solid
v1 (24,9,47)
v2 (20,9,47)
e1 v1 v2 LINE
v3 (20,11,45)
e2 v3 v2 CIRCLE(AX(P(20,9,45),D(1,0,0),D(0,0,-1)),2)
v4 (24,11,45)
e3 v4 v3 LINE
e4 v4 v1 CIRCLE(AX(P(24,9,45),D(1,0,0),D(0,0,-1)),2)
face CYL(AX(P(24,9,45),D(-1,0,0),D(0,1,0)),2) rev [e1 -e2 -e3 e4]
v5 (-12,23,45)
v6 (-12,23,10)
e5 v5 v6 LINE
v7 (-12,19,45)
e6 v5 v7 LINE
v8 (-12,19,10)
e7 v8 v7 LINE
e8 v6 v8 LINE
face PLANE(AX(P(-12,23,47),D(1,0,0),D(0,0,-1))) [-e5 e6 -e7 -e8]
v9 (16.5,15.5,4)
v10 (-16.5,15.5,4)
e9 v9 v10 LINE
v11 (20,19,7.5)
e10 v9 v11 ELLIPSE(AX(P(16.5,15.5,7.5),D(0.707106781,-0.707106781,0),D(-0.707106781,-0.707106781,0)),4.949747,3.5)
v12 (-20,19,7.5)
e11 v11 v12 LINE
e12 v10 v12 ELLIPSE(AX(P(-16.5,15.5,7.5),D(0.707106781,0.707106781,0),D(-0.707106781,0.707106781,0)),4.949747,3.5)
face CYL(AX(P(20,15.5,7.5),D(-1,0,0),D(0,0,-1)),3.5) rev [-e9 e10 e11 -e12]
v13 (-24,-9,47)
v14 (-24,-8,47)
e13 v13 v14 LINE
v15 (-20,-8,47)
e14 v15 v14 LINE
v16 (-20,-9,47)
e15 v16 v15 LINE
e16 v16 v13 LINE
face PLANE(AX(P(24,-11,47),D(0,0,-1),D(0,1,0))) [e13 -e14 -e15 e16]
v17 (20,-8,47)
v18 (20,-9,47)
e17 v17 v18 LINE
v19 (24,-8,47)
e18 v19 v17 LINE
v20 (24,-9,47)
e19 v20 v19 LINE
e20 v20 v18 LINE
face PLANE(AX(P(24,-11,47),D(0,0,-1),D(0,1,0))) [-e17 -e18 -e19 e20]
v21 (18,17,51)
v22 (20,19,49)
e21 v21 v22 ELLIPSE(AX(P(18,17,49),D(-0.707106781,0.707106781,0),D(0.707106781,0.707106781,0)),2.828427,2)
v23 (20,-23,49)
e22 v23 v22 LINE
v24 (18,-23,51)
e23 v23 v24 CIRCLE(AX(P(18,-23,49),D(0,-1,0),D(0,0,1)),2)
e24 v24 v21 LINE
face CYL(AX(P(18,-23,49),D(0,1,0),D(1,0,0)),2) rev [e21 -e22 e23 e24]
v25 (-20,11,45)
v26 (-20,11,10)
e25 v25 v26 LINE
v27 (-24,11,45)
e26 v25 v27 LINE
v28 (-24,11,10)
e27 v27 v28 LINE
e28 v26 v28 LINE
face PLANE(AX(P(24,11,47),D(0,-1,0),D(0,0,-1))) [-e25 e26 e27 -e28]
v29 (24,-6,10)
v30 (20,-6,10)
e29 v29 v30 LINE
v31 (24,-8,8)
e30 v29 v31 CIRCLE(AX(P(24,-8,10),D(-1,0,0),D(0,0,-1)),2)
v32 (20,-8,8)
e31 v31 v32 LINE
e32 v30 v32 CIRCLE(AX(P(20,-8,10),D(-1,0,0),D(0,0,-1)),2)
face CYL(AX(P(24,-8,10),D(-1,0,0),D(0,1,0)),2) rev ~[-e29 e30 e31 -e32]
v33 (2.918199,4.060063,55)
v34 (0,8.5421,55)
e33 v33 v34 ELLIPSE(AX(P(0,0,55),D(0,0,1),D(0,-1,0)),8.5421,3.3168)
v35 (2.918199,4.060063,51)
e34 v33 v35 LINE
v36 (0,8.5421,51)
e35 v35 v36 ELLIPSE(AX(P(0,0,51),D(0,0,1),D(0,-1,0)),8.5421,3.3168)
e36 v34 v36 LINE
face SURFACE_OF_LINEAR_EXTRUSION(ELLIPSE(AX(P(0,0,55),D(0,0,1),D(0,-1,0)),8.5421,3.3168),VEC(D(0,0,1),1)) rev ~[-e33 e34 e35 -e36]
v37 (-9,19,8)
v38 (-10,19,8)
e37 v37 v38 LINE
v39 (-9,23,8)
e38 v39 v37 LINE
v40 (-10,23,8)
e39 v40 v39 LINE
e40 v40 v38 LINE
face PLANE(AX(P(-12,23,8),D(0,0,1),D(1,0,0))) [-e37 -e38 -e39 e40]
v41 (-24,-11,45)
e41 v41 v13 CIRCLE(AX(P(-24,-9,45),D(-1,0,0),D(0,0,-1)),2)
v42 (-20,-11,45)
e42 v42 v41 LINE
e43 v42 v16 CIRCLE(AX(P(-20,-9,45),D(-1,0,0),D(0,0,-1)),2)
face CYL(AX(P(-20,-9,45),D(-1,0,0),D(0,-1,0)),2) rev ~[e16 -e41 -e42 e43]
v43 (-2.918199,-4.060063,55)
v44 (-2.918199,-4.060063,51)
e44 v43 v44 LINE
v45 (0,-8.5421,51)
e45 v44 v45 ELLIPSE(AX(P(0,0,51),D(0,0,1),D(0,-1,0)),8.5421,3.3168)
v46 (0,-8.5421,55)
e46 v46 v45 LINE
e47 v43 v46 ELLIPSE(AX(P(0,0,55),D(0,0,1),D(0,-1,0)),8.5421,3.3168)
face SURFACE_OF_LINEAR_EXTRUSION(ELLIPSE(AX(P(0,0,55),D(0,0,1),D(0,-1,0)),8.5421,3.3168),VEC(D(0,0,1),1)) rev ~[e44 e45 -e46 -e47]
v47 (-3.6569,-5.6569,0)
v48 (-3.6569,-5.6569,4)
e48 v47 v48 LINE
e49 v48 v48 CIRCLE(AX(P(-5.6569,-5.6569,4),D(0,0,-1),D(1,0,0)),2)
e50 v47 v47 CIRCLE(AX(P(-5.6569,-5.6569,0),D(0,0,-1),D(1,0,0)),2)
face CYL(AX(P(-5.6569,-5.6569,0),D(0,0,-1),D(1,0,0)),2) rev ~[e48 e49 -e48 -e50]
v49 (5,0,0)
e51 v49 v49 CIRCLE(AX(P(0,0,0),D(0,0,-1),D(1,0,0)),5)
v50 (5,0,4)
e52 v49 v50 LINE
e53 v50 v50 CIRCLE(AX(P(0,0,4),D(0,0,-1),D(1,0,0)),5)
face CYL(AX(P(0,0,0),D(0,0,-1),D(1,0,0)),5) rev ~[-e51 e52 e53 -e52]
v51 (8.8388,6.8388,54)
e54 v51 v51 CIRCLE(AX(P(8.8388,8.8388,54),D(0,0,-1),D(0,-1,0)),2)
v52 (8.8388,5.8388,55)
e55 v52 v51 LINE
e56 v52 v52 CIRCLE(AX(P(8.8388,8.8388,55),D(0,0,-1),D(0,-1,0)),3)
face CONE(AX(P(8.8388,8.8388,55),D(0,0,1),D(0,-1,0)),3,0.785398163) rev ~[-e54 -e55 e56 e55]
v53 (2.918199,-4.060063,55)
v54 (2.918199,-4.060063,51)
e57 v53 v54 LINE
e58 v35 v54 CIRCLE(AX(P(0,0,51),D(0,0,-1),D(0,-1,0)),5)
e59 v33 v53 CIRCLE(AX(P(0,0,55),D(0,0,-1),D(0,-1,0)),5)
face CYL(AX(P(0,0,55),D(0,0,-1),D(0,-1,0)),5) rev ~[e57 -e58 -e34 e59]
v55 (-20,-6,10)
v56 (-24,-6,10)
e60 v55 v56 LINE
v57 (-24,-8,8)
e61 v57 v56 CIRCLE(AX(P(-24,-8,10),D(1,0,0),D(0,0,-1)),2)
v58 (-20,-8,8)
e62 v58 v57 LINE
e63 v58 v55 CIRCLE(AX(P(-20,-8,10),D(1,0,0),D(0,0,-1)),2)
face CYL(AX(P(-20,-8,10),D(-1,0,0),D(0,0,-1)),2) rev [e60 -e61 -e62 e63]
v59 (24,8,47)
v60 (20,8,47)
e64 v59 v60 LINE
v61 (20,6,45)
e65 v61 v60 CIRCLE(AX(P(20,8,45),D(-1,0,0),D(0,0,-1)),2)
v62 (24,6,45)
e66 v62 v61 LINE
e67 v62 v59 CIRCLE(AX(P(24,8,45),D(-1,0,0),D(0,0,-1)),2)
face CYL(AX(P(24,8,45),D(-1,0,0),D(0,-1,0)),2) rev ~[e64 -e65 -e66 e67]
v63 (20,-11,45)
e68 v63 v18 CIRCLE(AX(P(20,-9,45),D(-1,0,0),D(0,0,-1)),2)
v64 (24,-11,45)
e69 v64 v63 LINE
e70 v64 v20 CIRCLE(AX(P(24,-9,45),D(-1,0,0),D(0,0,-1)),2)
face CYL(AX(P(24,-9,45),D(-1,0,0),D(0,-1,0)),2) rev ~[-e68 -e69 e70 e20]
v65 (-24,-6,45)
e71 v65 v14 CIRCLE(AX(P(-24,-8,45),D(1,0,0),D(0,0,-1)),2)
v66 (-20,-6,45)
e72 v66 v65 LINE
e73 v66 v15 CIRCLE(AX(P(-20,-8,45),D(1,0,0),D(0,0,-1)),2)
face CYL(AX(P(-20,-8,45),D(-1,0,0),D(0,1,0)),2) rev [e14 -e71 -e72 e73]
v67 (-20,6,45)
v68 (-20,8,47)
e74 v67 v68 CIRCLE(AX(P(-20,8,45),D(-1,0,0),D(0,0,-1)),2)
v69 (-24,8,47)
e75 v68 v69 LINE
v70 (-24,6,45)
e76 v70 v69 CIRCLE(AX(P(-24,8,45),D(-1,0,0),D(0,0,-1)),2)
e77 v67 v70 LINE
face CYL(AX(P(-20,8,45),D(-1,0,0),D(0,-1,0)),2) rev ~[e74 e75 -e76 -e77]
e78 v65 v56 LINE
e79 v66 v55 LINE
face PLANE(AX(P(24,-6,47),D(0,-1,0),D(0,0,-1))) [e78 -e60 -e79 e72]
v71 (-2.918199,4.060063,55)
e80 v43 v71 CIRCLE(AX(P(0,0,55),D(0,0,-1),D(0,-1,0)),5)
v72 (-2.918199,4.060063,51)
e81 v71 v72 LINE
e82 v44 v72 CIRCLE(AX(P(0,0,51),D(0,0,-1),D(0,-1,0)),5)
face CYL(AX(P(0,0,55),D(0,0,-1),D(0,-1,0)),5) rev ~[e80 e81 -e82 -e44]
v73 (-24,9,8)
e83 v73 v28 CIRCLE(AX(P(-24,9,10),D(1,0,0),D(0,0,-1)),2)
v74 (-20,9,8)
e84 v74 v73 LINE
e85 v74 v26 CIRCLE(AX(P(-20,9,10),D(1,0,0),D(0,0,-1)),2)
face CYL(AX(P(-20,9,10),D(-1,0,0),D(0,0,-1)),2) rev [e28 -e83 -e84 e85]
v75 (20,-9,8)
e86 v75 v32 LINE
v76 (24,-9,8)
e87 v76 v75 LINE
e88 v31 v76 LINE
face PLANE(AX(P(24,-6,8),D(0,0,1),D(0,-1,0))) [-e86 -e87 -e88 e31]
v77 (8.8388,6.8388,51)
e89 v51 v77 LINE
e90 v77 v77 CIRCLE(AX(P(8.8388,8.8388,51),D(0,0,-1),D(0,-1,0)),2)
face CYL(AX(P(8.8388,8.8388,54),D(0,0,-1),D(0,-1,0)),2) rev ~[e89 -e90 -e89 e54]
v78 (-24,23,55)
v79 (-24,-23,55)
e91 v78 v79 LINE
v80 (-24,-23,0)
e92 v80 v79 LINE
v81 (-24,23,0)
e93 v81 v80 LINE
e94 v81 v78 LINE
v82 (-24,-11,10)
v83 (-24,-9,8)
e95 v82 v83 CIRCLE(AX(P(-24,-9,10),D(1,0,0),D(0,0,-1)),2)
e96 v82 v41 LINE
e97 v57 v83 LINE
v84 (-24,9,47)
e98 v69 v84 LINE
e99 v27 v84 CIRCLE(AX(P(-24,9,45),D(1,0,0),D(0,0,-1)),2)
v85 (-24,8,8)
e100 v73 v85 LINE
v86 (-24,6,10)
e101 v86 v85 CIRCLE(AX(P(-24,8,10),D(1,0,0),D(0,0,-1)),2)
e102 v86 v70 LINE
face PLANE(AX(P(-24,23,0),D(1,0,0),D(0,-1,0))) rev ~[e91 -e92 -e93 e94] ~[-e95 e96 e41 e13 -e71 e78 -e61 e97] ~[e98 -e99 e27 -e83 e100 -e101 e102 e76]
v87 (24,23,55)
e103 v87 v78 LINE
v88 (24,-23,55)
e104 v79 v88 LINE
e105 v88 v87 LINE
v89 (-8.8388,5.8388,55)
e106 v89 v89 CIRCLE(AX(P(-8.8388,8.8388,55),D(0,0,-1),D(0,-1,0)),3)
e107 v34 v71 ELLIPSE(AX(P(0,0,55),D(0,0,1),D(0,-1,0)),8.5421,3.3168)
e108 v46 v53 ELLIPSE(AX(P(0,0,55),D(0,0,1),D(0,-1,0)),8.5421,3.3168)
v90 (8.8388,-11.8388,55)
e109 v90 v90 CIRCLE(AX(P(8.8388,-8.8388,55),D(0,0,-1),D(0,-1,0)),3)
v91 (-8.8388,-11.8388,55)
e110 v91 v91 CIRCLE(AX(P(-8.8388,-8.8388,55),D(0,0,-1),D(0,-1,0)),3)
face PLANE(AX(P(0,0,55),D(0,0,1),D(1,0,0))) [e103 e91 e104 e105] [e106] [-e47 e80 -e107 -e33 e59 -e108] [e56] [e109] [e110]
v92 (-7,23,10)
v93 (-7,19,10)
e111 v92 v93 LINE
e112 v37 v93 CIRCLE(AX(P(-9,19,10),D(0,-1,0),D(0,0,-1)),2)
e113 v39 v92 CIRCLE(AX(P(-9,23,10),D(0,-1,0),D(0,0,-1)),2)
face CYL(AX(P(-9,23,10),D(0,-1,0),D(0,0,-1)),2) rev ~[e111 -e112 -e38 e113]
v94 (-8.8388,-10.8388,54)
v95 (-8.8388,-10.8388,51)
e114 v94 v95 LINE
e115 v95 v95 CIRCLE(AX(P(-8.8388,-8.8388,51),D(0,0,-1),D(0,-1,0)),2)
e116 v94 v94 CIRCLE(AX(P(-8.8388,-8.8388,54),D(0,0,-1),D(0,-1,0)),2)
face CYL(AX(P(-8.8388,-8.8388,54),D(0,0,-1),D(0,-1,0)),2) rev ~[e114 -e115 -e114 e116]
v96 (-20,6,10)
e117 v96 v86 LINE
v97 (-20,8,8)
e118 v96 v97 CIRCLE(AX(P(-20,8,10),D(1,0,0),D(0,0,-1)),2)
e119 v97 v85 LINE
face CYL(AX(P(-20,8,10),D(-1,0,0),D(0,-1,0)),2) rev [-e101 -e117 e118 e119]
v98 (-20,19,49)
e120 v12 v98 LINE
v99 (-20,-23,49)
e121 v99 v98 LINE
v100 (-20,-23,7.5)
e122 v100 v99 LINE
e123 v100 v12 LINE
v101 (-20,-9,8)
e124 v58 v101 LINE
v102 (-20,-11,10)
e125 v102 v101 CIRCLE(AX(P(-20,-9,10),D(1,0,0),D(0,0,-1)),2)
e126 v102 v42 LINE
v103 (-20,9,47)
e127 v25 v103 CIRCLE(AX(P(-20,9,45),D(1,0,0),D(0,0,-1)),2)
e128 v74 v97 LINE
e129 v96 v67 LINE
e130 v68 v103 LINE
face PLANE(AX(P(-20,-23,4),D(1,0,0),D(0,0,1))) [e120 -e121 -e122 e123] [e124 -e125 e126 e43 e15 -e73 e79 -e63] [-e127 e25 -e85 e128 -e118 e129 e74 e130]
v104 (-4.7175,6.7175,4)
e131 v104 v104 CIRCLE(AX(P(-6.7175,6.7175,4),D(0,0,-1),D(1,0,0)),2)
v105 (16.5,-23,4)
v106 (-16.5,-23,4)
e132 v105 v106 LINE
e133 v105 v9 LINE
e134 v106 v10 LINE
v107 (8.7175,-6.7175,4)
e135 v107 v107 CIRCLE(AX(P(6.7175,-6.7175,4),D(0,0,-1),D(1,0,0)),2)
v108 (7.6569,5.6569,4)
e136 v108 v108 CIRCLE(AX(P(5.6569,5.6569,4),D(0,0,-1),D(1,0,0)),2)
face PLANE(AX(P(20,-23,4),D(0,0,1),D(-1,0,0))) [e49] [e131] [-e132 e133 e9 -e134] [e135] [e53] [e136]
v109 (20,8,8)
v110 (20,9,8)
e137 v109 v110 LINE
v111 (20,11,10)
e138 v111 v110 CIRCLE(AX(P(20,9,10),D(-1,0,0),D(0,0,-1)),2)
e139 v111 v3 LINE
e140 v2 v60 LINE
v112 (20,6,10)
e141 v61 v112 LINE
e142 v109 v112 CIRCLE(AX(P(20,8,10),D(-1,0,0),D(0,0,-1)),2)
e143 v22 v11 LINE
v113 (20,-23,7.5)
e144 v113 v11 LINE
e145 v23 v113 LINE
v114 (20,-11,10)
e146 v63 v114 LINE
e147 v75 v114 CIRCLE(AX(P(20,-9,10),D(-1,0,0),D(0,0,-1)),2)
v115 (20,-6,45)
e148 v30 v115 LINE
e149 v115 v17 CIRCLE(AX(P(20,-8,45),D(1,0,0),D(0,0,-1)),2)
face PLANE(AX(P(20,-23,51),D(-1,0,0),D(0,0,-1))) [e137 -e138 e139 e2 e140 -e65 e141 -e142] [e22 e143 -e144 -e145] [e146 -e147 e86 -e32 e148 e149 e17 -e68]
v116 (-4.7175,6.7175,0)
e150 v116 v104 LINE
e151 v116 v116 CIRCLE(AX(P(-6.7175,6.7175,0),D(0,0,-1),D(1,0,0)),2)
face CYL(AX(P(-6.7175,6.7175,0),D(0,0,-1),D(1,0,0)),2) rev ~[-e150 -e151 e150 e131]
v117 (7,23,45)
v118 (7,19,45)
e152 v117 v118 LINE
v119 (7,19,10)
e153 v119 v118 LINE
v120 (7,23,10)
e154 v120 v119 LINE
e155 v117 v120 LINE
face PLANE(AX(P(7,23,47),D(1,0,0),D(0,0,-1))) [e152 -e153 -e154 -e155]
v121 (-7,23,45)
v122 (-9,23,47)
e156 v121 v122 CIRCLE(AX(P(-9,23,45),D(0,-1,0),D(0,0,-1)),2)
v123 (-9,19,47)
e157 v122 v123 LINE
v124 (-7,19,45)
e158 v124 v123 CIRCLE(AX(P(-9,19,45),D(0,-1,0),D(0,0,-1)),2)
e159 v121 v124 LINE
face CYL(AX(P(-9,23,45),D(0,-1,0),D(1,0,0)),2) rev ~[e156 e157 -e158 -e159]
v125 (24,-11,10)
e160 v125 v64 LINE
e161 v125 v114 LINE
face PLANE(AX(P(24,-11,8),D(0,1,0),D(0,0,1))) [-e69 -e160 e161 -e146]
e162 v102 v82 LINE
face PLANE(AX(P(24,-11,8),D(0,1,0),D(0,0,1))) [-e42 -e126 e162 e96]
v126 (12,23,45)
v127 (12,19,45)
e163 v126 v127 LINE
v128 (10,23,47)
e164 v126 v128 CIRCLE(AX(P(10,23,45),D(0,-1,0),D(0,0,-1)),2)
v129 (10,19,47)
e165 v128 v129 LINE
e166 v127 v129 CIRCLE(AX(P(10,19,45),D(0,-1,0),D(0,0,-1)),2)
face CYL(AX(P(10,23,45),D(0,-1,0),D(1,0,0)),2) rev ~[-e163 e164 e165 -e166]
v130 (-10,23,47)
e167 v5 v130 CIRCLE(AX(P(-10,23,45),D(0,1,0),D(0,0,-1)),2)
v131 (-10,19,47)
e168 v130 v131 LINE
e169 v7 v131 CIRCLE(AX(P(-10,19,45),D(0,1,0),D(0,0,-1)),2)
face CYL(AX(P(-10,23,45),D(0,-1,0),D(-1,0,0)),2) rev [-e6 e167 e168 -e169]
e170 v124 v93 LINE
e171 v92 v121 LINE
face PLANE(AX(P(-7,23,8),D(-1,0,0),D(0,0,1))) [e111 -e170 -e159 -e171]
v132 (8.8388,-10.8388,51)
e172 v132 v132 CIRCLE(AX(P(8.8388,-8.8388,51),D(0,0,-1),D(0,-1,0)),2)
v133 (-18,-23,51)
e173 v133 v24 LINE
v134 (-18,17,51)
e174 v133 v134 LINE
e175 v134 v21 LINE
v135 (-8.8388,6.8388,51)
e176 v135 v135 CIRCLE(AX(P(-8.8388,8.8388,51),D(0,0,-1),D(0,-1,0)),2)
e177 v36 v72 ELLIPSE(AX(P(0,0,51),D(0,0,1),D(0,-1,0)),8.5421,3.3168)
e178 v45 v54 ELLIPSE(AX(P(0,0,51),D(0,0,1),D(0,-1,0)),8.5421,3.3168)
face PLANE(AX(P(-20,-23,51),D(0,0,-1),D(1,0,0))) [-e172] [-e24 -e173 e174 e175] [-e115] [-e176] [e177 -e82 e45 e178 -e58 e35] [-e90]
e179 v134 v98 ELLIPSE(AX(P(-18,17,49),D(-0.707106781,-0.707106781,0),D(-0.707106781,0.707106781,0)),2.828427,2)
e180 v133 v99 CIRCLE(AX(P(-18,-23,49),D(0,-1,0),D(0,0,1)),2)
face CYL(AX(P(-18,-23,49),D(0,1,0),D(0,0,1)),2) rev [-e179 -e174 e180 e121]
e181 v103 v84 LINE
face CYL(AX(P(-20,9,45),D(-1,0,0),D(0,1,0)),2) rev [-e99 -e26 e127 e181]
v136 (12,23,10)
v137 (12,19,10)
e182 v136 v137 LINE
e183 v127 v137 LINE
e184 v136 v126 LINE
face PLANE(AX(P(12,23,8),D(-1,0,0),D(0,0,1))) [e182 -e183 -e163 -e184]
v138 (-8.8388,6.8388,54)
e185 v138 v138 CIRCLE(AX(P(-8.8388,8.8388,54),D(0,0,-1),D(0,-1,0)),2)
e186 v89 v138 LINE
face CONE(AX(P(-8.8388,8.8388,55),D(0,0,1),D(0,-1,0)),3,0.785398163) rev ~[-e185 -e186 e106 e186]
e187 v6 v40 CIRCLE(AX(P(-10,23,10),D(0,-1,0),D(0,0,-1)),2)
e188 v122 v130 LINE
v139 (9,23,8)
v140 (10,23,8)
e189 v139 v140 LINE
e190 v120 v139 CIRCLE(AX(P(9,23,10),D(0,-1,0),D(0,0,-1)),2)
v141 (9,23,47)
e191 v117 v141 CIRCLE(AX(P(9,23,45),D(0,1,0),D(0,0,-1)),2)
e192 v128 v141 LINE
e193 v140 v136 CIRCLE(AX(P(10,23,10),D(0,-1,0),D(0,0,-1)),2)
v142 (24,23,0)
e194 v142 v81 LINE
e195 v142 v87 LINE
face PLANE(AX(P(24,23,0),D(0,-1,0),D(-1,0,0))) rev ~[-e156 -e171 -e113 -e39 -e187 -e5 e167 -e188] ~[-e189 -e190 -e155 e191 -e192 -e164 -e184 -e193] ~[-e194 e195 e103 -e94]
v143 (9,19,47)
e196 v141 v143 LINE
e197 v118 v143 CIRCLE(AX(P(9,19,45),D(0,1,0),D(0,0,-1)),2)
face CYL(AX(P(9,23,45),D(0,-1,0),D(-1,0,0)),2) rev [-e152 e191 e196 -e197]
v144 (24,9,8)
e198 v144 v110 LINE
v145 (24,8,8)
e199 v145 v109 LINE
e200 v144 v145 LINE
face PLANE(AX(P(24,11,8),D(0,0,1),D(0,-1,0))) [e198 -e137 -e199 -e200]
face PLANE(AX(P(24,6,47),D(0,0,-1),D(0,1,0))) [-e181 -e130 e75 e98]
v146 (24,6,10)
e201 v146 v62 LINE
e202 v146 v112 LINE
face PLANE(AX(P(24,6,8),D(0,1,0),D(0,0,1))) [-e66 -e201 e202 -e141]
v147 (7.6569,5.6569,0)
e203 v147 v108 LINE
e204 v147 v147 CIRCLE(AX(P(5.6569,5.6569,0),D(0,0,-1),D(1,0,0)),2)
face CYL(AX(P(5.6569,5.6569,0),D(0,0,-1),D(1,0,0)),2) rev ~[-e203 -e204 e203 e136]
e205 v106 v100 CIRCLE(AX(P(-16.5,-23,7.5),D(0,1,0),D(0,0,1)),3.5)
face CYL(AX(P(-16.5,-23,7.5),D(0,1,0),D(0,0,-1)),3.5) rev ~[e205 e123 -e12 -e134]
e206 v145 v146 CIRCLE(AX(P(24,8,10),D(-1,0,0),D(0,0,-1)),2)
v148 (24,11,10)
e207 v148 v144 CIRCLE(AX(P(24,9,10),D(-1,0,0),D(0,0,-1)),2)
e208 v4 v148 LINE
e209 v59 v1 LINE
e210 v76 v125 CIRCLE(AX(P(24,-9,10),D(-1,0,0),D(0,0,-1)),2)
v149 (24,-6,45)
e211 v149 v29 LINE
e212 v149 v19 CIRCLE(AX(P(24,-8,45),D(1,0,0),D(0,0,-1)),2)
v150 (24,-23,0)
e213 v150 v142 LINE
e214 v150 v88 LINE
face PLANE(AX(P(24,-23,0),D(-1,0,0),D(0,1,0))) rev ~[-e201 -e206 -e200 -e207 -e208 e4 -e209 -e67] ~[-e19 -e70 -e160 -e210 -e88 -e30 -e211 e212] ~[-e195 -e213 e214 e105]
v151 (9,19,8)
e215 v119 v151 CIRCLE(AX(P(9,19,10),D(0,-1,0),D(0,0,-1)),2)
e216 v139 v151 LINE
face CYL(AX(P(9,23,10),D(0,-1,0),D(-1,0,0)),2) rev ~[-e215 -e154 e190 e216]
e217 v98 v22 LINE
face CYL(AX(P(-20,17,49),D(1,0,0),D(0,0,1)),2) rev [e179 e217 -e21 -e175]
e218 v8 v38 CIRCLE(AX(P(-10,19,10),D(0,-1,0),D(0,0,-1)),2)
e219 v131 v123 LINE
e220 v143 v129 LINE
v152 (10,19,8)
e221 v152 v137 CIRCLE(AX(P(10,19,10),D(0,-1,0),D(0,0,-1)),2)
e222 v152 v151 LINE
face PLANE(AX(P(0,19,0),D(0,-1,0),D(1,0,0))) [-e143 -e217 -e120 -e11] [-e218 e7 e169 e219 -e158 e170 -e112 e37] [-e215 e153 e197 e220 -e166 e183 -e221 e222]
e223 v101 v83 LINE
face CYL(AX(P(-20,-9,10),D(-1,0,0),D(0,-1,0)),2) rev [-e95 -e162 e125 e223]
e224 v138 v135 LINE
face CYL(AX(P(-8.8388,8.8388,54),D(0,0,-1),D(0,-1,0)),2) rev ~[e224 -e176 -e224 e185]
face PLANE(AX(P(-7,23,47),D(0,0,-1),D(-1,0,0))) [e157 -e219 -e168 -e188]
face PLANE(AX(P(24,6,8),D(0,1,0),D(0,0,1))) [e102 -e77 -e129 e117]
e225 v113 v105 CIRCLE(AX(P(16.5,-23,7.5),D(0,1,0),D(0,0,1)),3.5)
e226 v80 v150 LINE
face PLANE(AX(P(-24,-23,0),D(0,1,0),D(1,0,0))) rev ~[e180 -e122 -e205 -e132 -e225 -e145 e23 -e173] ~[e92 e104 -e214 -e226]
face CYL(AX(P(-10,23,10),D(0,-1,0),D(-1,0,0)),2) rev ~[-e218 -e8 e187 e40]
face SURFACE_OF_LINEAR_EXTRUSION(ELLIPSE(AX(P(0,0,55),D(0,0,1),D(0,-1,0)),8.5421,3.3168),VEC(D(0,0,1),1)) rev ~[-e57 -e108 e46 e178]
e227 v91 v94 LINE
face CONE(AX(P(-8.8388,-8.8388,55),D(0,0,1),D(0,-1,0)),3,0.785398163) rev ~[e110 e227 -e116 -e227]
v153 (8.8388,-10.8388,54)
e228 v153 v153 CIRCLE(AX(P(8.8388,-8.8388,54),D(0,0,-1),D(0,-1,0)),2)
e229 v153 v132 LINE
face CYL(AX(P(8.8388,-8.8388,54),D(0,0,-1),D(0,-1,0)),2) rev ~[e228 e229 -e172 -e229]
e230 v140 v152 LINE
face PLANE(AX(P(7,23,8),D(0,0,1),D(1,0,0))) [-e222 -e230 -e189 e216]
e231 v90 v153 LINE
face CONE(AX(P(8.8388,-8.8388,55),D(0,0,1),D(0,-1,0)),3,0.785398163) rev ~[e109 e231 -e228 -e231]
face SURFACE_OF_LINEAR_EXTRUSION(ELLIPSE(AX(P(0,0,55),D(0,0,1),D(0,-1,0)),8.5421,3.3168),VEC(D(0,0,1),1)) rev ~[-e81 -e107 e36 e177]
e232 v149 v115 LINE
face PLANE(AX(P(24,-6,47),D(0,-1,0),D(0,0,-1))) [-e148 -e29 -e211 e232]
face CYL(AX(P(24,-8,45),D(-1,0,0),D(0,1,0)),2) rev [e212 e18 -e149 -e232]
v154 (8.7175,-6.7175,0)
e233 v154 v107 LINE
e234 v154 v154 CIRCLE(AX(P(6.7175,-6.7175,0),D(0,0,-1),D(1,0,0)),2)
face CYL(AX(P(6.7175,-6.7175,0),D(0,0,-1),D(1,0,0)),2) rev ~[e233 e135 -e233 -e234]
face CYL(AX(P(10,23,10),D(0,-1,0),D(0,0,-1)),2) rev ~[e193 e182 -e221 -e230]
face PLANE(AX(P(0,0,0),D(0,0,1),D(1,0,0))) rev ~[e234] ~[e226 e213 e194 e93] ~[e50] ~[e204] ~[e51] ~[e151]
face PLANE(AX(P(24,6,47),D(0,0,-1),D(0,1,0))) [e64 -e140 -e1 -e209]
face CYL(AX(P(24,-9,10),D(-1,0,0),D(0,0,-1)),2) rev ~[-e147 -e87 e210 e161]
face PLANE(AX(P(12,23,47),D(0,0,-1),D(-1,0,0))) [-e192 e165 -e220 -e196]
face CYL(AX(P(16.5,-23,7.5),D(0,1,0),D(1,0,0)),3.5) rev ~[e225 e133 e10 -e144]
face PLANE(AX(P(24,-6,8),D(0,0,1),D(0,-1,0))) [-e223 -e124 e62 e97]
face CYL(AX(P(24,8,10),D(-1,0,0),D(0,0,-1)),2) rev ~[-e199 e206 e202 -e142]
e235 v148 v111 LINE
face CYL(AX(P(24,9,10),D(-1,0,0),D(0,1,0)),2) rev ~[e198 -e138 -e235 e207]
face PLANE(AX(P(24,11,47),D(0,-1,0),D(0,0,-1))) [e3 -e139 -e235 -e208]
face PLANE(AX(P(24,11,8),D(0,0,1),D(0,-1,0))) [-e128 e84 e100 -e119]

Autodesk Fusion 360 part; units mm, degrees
sketch "Sketch1" plane through (0, 0, 0) normal (0, 0, 1) x (1, 0, 0)
  line L0 (-24, -23) -> (24, -23)
  line L1 (24, -23) -> (24, 23)
  line L2 (24, 23) -> (-24, 23)
  line L3 (-24, 23) -> (-24, -23)
  dimension "d1" = 48
  dimension "d2" = 46
  dimension "d3" = 24
  dimension "d4" = 23
extrude "Extrude1" add sketch "Sketch1" along normal blind 55
sketch "Sketch2" plane through (0, -23, 0) normal (0, -1, 0) x (1, 0, 0)
  line L0 (-24, 0) -> (24, 0)
  line L1 (24, 0) -> (24, 55)
  line L2 (24, 55) -> (-24, 55)
  line L3 (-24, 55) -> (-24, 0)
  line L4 (-20, 51) -> (20, 51)
  line L5 (20, 51) -> (20, 4)
  line L6 (20, 4) -> (-20, 4)
  line L7 (-20, 4) -> (-20, 51)
  dimension "d7" = 40
  dimension "d8" = 20
  dimension "d10" = 4
  dimension "d58" = 4
extrude "Extrude2" cut sketch "Sketch2" against normal blind 42 contours L4 L5 L6 L7
sketch "Sketch4" plane through (0, 0, 55) normal (0, 0, 1) x (-1, 0, 0)
  line L0 (24, -23) -> (24, 23)
  line L1 (24, 23) -> (-24, 23)
  line L2 (-24, 23) -> (-24, -23)
  line L3 (-24, -23) -> (24, -23)
  circle A0 centre (0, 0) radius 5
  dimension "d23" = 10
hole "Hole1" at (0, 0, 55) direction (0, 0, -1) diameter 10 depth 4 tip angle 118
sketch "Sketch5" plane through (0, 0, 55) normal (0, 0, 1) x (-1, 0, 0)
  circle A0 centre (0, 0) radius 5
  line L0 (24, -23) -> (24, 23)
  line L1 (24, 23) -> (-24, 23)
  line L2 (-24, 23) -> (-24, -23)
  line L3 (-24, -23) -> (24, -23)
  circle A1 centre (-8.8388, -8.8388) radius 1.5
  point P0 (8.8388, -8.8388)
  point P1 (8.8388, 8.8388)
  point P2 (-8.8388, 8.8388)
  dimension "d27" = 12.5
  dimension "d28" = 3
  dimension "d30" = 360
hole "Hole2" at (8.8388, 8.8388, 55) at (-8.8388, 8.8388, 55) at (-8.8388, -8.8388, 55) at (8.8388, -8.8388, 55) direction (0, 0, -1) diameter 4 depth 4 tip angle 118 countersink diameter 6 countersink angle 90
sketch "Sketch7" plane through (0, 0, 0) normal (0, 0, -1) x (1, 0, 0)
  line L0 (-24, 23) -> (-24, -23)
  line L1 (-24, -23) -> (24, -23)
  line L2 (24, -23) -> (24, 23)
  line L3 (24, 23) -> (-24, 23)
  circle A0 centre (0, 0) radius 5
  circle A1 centre (5.6569, -5.6569) radius 2
  circle A2 centre (6.7175, 6.7175) radius 2
  circle A3 centre (-6.7175, -6.7175) radius 2
  circle A4 centre (-5.6569, 5.6569) radius 2
  dimension "d45" = 10
  dimension "d67" = 4
  dimension "d68" = 4
  dimension "d69" = 9.5
  dimension "d70" = 8
  dimension "d71" = 17.3431
  dimension "d72" = 16.2825
  dimension "d74" = 360
extrude "Extrude4" cut sketch "Sketch7" against normal blind 4 contours A0 | A1 | A2 | A3 | A4
sketch "Sketch8" plane through (0, 0, 55) normal (0, 0, 1) x (-1, 0, 0)
  circle A0 centre (0, 0) radius 5
  line L0 (24, -23) -> (24, 23)
  line L1 (24, 23) -> (-24, 23)
  line L2 (-24, 23) -> (-24, -23)
  line L3 (-24, -23) -> (24, -23)
  ellipse E0 centre (0, 0) end of major axis (0, 8.5421) minor radius 3.3168
  line L4 (0, -8.5421) -> (0, 8.5421)
  line L5 (3.3168, 0) -> (-3.3168, 0)
  circle A1 centre (8.8388, 8.8388) radius 3
  circle A2 centre (-8.8388, -8.8388) radius 3
  circle A3 centre (8.8388, -8.8388) radius 3
  circle A4 centre (-8.8388, 8.8388) radius 3
extrude "Extrude5" cut sketch "Sketch8" against normal blind 4 contours A0 E0 L4 | A0 E0 L4 | A0 E0 L4 | A0 E0 L4
sketch "Sketch3" plane through (24, 0, 0) normal (1, 0, 0) x (0, 1, 0)
  line L0 (-21, 0) -> (23, 0)
  line L1 (23, 0) -> (23, 50)
  line L2 (23, 50) -> (-21, 50)
  line L3 (-11, 47) -> (-6, 47)
  line L4 (-6, 47) -> (-6, 8)
  line L5 (-6, 8) -> (-11, 8)
  line L6 (-11, 8) -> (-11, 47)
  line L7 (6, 47) -> (11, 47)
  line L8 (11, 47) -> (11, 8)
  line L9 (11, 8) -> (6, 8)
  line L10 (6, 8) -> (6, 47)
  line L11 (-23, 0) -> (23, 0)
  line L12 (23, 0) -> (23, 55)
  line L13 (23, 55) -> (-23, 55)
  line L14 (-23, 55) -> (-23, 0)
  line L15 (-23, 51) -> (-23, 4)
  point P0 (-23, 55)
  point P1 (23, 55)
  dimension "d16" = 8
  dimension "d20" = 12
  dimension "d60" = 8
  dimension "d75" = 5
  dimension "d76" = 5
  dimension "d97" = 12
  dimension "d100" = 8
  dimension "d101" = 8
extrude "Extrude6" cut sketch "Sketch3" against normal blind 48 contours L3 L4 L5 L6 | L7 L8 L9 L10
sketch "Sketch9" plane through (0, 23, 0) normal (0, 1, 0) x (-1, 0, 0)
  line L0 (-24, 0) -> (24, 0)
  line L1 (24, 0) -> (24, 55)
  line L2 (24, 55) -> (-24, 55)
  line L3 (-24, 55) -> (-24, 0)
  line L4 (-12, 47) -> (-7, 47)
  line L5 (-7, 47) -> (-7, 8)
  line L6 (-7, 8) -> (-12, 8)
  line L7 (-12, 8) -> (-12, 47)
  line L8 (7, 47) -> (12, 47)
  line L9 (12, 47) -> (12, 8)
  line L10 (12, 8) -> (7, 8)
  line L11 (7, 8) -> (7, 47)
  line L12 (-24, 0) -> (24, 0)
  dimension "d79" = 8
  dimension "d80" = 8
  dimension "d81" = 8
  dimension "d82" = 8
  dimension "d83" = 12
  dimension "d84" = 12
  dimension "d85" = 5
  dimension "d86" = 5
extrude "Extrude7" cut sketch "Sketch9" against normal blind 44 contours L4 L5 L6 L7 | L8 L9 L10 L11
fillet "Fillet2" radius 3.5 3 edges at (0, 19, 4) (-20, -2, 4) (20, -2, 4)
fillet "Fillet3" radius 2 24 edges at (22, 11, 8) (22, -6, 8) (-22, 11, 8) (-22, -6, 8) (22, 6, 8) (22, -11, 8) (22, -11, 47) (22, 6, 47) (22, 11, 47) (22, -6, 47) (-22, -6, 47) (-22, -11, 47) (-22, 6, 47) (-22, 11, 47) (-22, -11, 8) (-22, 6, 8) (-7, 21, 8) (12, 21, 8) (7, 21, 8) (-12, 21, 8) (12, 21, 47) (-7, 21, 47) (7, 21, 47) (-12, 21, 47)
fillet "Fillet4" radius 2 3 edges at (-20, -2, 51) (0, 19, 51) (20, -2, 51)
